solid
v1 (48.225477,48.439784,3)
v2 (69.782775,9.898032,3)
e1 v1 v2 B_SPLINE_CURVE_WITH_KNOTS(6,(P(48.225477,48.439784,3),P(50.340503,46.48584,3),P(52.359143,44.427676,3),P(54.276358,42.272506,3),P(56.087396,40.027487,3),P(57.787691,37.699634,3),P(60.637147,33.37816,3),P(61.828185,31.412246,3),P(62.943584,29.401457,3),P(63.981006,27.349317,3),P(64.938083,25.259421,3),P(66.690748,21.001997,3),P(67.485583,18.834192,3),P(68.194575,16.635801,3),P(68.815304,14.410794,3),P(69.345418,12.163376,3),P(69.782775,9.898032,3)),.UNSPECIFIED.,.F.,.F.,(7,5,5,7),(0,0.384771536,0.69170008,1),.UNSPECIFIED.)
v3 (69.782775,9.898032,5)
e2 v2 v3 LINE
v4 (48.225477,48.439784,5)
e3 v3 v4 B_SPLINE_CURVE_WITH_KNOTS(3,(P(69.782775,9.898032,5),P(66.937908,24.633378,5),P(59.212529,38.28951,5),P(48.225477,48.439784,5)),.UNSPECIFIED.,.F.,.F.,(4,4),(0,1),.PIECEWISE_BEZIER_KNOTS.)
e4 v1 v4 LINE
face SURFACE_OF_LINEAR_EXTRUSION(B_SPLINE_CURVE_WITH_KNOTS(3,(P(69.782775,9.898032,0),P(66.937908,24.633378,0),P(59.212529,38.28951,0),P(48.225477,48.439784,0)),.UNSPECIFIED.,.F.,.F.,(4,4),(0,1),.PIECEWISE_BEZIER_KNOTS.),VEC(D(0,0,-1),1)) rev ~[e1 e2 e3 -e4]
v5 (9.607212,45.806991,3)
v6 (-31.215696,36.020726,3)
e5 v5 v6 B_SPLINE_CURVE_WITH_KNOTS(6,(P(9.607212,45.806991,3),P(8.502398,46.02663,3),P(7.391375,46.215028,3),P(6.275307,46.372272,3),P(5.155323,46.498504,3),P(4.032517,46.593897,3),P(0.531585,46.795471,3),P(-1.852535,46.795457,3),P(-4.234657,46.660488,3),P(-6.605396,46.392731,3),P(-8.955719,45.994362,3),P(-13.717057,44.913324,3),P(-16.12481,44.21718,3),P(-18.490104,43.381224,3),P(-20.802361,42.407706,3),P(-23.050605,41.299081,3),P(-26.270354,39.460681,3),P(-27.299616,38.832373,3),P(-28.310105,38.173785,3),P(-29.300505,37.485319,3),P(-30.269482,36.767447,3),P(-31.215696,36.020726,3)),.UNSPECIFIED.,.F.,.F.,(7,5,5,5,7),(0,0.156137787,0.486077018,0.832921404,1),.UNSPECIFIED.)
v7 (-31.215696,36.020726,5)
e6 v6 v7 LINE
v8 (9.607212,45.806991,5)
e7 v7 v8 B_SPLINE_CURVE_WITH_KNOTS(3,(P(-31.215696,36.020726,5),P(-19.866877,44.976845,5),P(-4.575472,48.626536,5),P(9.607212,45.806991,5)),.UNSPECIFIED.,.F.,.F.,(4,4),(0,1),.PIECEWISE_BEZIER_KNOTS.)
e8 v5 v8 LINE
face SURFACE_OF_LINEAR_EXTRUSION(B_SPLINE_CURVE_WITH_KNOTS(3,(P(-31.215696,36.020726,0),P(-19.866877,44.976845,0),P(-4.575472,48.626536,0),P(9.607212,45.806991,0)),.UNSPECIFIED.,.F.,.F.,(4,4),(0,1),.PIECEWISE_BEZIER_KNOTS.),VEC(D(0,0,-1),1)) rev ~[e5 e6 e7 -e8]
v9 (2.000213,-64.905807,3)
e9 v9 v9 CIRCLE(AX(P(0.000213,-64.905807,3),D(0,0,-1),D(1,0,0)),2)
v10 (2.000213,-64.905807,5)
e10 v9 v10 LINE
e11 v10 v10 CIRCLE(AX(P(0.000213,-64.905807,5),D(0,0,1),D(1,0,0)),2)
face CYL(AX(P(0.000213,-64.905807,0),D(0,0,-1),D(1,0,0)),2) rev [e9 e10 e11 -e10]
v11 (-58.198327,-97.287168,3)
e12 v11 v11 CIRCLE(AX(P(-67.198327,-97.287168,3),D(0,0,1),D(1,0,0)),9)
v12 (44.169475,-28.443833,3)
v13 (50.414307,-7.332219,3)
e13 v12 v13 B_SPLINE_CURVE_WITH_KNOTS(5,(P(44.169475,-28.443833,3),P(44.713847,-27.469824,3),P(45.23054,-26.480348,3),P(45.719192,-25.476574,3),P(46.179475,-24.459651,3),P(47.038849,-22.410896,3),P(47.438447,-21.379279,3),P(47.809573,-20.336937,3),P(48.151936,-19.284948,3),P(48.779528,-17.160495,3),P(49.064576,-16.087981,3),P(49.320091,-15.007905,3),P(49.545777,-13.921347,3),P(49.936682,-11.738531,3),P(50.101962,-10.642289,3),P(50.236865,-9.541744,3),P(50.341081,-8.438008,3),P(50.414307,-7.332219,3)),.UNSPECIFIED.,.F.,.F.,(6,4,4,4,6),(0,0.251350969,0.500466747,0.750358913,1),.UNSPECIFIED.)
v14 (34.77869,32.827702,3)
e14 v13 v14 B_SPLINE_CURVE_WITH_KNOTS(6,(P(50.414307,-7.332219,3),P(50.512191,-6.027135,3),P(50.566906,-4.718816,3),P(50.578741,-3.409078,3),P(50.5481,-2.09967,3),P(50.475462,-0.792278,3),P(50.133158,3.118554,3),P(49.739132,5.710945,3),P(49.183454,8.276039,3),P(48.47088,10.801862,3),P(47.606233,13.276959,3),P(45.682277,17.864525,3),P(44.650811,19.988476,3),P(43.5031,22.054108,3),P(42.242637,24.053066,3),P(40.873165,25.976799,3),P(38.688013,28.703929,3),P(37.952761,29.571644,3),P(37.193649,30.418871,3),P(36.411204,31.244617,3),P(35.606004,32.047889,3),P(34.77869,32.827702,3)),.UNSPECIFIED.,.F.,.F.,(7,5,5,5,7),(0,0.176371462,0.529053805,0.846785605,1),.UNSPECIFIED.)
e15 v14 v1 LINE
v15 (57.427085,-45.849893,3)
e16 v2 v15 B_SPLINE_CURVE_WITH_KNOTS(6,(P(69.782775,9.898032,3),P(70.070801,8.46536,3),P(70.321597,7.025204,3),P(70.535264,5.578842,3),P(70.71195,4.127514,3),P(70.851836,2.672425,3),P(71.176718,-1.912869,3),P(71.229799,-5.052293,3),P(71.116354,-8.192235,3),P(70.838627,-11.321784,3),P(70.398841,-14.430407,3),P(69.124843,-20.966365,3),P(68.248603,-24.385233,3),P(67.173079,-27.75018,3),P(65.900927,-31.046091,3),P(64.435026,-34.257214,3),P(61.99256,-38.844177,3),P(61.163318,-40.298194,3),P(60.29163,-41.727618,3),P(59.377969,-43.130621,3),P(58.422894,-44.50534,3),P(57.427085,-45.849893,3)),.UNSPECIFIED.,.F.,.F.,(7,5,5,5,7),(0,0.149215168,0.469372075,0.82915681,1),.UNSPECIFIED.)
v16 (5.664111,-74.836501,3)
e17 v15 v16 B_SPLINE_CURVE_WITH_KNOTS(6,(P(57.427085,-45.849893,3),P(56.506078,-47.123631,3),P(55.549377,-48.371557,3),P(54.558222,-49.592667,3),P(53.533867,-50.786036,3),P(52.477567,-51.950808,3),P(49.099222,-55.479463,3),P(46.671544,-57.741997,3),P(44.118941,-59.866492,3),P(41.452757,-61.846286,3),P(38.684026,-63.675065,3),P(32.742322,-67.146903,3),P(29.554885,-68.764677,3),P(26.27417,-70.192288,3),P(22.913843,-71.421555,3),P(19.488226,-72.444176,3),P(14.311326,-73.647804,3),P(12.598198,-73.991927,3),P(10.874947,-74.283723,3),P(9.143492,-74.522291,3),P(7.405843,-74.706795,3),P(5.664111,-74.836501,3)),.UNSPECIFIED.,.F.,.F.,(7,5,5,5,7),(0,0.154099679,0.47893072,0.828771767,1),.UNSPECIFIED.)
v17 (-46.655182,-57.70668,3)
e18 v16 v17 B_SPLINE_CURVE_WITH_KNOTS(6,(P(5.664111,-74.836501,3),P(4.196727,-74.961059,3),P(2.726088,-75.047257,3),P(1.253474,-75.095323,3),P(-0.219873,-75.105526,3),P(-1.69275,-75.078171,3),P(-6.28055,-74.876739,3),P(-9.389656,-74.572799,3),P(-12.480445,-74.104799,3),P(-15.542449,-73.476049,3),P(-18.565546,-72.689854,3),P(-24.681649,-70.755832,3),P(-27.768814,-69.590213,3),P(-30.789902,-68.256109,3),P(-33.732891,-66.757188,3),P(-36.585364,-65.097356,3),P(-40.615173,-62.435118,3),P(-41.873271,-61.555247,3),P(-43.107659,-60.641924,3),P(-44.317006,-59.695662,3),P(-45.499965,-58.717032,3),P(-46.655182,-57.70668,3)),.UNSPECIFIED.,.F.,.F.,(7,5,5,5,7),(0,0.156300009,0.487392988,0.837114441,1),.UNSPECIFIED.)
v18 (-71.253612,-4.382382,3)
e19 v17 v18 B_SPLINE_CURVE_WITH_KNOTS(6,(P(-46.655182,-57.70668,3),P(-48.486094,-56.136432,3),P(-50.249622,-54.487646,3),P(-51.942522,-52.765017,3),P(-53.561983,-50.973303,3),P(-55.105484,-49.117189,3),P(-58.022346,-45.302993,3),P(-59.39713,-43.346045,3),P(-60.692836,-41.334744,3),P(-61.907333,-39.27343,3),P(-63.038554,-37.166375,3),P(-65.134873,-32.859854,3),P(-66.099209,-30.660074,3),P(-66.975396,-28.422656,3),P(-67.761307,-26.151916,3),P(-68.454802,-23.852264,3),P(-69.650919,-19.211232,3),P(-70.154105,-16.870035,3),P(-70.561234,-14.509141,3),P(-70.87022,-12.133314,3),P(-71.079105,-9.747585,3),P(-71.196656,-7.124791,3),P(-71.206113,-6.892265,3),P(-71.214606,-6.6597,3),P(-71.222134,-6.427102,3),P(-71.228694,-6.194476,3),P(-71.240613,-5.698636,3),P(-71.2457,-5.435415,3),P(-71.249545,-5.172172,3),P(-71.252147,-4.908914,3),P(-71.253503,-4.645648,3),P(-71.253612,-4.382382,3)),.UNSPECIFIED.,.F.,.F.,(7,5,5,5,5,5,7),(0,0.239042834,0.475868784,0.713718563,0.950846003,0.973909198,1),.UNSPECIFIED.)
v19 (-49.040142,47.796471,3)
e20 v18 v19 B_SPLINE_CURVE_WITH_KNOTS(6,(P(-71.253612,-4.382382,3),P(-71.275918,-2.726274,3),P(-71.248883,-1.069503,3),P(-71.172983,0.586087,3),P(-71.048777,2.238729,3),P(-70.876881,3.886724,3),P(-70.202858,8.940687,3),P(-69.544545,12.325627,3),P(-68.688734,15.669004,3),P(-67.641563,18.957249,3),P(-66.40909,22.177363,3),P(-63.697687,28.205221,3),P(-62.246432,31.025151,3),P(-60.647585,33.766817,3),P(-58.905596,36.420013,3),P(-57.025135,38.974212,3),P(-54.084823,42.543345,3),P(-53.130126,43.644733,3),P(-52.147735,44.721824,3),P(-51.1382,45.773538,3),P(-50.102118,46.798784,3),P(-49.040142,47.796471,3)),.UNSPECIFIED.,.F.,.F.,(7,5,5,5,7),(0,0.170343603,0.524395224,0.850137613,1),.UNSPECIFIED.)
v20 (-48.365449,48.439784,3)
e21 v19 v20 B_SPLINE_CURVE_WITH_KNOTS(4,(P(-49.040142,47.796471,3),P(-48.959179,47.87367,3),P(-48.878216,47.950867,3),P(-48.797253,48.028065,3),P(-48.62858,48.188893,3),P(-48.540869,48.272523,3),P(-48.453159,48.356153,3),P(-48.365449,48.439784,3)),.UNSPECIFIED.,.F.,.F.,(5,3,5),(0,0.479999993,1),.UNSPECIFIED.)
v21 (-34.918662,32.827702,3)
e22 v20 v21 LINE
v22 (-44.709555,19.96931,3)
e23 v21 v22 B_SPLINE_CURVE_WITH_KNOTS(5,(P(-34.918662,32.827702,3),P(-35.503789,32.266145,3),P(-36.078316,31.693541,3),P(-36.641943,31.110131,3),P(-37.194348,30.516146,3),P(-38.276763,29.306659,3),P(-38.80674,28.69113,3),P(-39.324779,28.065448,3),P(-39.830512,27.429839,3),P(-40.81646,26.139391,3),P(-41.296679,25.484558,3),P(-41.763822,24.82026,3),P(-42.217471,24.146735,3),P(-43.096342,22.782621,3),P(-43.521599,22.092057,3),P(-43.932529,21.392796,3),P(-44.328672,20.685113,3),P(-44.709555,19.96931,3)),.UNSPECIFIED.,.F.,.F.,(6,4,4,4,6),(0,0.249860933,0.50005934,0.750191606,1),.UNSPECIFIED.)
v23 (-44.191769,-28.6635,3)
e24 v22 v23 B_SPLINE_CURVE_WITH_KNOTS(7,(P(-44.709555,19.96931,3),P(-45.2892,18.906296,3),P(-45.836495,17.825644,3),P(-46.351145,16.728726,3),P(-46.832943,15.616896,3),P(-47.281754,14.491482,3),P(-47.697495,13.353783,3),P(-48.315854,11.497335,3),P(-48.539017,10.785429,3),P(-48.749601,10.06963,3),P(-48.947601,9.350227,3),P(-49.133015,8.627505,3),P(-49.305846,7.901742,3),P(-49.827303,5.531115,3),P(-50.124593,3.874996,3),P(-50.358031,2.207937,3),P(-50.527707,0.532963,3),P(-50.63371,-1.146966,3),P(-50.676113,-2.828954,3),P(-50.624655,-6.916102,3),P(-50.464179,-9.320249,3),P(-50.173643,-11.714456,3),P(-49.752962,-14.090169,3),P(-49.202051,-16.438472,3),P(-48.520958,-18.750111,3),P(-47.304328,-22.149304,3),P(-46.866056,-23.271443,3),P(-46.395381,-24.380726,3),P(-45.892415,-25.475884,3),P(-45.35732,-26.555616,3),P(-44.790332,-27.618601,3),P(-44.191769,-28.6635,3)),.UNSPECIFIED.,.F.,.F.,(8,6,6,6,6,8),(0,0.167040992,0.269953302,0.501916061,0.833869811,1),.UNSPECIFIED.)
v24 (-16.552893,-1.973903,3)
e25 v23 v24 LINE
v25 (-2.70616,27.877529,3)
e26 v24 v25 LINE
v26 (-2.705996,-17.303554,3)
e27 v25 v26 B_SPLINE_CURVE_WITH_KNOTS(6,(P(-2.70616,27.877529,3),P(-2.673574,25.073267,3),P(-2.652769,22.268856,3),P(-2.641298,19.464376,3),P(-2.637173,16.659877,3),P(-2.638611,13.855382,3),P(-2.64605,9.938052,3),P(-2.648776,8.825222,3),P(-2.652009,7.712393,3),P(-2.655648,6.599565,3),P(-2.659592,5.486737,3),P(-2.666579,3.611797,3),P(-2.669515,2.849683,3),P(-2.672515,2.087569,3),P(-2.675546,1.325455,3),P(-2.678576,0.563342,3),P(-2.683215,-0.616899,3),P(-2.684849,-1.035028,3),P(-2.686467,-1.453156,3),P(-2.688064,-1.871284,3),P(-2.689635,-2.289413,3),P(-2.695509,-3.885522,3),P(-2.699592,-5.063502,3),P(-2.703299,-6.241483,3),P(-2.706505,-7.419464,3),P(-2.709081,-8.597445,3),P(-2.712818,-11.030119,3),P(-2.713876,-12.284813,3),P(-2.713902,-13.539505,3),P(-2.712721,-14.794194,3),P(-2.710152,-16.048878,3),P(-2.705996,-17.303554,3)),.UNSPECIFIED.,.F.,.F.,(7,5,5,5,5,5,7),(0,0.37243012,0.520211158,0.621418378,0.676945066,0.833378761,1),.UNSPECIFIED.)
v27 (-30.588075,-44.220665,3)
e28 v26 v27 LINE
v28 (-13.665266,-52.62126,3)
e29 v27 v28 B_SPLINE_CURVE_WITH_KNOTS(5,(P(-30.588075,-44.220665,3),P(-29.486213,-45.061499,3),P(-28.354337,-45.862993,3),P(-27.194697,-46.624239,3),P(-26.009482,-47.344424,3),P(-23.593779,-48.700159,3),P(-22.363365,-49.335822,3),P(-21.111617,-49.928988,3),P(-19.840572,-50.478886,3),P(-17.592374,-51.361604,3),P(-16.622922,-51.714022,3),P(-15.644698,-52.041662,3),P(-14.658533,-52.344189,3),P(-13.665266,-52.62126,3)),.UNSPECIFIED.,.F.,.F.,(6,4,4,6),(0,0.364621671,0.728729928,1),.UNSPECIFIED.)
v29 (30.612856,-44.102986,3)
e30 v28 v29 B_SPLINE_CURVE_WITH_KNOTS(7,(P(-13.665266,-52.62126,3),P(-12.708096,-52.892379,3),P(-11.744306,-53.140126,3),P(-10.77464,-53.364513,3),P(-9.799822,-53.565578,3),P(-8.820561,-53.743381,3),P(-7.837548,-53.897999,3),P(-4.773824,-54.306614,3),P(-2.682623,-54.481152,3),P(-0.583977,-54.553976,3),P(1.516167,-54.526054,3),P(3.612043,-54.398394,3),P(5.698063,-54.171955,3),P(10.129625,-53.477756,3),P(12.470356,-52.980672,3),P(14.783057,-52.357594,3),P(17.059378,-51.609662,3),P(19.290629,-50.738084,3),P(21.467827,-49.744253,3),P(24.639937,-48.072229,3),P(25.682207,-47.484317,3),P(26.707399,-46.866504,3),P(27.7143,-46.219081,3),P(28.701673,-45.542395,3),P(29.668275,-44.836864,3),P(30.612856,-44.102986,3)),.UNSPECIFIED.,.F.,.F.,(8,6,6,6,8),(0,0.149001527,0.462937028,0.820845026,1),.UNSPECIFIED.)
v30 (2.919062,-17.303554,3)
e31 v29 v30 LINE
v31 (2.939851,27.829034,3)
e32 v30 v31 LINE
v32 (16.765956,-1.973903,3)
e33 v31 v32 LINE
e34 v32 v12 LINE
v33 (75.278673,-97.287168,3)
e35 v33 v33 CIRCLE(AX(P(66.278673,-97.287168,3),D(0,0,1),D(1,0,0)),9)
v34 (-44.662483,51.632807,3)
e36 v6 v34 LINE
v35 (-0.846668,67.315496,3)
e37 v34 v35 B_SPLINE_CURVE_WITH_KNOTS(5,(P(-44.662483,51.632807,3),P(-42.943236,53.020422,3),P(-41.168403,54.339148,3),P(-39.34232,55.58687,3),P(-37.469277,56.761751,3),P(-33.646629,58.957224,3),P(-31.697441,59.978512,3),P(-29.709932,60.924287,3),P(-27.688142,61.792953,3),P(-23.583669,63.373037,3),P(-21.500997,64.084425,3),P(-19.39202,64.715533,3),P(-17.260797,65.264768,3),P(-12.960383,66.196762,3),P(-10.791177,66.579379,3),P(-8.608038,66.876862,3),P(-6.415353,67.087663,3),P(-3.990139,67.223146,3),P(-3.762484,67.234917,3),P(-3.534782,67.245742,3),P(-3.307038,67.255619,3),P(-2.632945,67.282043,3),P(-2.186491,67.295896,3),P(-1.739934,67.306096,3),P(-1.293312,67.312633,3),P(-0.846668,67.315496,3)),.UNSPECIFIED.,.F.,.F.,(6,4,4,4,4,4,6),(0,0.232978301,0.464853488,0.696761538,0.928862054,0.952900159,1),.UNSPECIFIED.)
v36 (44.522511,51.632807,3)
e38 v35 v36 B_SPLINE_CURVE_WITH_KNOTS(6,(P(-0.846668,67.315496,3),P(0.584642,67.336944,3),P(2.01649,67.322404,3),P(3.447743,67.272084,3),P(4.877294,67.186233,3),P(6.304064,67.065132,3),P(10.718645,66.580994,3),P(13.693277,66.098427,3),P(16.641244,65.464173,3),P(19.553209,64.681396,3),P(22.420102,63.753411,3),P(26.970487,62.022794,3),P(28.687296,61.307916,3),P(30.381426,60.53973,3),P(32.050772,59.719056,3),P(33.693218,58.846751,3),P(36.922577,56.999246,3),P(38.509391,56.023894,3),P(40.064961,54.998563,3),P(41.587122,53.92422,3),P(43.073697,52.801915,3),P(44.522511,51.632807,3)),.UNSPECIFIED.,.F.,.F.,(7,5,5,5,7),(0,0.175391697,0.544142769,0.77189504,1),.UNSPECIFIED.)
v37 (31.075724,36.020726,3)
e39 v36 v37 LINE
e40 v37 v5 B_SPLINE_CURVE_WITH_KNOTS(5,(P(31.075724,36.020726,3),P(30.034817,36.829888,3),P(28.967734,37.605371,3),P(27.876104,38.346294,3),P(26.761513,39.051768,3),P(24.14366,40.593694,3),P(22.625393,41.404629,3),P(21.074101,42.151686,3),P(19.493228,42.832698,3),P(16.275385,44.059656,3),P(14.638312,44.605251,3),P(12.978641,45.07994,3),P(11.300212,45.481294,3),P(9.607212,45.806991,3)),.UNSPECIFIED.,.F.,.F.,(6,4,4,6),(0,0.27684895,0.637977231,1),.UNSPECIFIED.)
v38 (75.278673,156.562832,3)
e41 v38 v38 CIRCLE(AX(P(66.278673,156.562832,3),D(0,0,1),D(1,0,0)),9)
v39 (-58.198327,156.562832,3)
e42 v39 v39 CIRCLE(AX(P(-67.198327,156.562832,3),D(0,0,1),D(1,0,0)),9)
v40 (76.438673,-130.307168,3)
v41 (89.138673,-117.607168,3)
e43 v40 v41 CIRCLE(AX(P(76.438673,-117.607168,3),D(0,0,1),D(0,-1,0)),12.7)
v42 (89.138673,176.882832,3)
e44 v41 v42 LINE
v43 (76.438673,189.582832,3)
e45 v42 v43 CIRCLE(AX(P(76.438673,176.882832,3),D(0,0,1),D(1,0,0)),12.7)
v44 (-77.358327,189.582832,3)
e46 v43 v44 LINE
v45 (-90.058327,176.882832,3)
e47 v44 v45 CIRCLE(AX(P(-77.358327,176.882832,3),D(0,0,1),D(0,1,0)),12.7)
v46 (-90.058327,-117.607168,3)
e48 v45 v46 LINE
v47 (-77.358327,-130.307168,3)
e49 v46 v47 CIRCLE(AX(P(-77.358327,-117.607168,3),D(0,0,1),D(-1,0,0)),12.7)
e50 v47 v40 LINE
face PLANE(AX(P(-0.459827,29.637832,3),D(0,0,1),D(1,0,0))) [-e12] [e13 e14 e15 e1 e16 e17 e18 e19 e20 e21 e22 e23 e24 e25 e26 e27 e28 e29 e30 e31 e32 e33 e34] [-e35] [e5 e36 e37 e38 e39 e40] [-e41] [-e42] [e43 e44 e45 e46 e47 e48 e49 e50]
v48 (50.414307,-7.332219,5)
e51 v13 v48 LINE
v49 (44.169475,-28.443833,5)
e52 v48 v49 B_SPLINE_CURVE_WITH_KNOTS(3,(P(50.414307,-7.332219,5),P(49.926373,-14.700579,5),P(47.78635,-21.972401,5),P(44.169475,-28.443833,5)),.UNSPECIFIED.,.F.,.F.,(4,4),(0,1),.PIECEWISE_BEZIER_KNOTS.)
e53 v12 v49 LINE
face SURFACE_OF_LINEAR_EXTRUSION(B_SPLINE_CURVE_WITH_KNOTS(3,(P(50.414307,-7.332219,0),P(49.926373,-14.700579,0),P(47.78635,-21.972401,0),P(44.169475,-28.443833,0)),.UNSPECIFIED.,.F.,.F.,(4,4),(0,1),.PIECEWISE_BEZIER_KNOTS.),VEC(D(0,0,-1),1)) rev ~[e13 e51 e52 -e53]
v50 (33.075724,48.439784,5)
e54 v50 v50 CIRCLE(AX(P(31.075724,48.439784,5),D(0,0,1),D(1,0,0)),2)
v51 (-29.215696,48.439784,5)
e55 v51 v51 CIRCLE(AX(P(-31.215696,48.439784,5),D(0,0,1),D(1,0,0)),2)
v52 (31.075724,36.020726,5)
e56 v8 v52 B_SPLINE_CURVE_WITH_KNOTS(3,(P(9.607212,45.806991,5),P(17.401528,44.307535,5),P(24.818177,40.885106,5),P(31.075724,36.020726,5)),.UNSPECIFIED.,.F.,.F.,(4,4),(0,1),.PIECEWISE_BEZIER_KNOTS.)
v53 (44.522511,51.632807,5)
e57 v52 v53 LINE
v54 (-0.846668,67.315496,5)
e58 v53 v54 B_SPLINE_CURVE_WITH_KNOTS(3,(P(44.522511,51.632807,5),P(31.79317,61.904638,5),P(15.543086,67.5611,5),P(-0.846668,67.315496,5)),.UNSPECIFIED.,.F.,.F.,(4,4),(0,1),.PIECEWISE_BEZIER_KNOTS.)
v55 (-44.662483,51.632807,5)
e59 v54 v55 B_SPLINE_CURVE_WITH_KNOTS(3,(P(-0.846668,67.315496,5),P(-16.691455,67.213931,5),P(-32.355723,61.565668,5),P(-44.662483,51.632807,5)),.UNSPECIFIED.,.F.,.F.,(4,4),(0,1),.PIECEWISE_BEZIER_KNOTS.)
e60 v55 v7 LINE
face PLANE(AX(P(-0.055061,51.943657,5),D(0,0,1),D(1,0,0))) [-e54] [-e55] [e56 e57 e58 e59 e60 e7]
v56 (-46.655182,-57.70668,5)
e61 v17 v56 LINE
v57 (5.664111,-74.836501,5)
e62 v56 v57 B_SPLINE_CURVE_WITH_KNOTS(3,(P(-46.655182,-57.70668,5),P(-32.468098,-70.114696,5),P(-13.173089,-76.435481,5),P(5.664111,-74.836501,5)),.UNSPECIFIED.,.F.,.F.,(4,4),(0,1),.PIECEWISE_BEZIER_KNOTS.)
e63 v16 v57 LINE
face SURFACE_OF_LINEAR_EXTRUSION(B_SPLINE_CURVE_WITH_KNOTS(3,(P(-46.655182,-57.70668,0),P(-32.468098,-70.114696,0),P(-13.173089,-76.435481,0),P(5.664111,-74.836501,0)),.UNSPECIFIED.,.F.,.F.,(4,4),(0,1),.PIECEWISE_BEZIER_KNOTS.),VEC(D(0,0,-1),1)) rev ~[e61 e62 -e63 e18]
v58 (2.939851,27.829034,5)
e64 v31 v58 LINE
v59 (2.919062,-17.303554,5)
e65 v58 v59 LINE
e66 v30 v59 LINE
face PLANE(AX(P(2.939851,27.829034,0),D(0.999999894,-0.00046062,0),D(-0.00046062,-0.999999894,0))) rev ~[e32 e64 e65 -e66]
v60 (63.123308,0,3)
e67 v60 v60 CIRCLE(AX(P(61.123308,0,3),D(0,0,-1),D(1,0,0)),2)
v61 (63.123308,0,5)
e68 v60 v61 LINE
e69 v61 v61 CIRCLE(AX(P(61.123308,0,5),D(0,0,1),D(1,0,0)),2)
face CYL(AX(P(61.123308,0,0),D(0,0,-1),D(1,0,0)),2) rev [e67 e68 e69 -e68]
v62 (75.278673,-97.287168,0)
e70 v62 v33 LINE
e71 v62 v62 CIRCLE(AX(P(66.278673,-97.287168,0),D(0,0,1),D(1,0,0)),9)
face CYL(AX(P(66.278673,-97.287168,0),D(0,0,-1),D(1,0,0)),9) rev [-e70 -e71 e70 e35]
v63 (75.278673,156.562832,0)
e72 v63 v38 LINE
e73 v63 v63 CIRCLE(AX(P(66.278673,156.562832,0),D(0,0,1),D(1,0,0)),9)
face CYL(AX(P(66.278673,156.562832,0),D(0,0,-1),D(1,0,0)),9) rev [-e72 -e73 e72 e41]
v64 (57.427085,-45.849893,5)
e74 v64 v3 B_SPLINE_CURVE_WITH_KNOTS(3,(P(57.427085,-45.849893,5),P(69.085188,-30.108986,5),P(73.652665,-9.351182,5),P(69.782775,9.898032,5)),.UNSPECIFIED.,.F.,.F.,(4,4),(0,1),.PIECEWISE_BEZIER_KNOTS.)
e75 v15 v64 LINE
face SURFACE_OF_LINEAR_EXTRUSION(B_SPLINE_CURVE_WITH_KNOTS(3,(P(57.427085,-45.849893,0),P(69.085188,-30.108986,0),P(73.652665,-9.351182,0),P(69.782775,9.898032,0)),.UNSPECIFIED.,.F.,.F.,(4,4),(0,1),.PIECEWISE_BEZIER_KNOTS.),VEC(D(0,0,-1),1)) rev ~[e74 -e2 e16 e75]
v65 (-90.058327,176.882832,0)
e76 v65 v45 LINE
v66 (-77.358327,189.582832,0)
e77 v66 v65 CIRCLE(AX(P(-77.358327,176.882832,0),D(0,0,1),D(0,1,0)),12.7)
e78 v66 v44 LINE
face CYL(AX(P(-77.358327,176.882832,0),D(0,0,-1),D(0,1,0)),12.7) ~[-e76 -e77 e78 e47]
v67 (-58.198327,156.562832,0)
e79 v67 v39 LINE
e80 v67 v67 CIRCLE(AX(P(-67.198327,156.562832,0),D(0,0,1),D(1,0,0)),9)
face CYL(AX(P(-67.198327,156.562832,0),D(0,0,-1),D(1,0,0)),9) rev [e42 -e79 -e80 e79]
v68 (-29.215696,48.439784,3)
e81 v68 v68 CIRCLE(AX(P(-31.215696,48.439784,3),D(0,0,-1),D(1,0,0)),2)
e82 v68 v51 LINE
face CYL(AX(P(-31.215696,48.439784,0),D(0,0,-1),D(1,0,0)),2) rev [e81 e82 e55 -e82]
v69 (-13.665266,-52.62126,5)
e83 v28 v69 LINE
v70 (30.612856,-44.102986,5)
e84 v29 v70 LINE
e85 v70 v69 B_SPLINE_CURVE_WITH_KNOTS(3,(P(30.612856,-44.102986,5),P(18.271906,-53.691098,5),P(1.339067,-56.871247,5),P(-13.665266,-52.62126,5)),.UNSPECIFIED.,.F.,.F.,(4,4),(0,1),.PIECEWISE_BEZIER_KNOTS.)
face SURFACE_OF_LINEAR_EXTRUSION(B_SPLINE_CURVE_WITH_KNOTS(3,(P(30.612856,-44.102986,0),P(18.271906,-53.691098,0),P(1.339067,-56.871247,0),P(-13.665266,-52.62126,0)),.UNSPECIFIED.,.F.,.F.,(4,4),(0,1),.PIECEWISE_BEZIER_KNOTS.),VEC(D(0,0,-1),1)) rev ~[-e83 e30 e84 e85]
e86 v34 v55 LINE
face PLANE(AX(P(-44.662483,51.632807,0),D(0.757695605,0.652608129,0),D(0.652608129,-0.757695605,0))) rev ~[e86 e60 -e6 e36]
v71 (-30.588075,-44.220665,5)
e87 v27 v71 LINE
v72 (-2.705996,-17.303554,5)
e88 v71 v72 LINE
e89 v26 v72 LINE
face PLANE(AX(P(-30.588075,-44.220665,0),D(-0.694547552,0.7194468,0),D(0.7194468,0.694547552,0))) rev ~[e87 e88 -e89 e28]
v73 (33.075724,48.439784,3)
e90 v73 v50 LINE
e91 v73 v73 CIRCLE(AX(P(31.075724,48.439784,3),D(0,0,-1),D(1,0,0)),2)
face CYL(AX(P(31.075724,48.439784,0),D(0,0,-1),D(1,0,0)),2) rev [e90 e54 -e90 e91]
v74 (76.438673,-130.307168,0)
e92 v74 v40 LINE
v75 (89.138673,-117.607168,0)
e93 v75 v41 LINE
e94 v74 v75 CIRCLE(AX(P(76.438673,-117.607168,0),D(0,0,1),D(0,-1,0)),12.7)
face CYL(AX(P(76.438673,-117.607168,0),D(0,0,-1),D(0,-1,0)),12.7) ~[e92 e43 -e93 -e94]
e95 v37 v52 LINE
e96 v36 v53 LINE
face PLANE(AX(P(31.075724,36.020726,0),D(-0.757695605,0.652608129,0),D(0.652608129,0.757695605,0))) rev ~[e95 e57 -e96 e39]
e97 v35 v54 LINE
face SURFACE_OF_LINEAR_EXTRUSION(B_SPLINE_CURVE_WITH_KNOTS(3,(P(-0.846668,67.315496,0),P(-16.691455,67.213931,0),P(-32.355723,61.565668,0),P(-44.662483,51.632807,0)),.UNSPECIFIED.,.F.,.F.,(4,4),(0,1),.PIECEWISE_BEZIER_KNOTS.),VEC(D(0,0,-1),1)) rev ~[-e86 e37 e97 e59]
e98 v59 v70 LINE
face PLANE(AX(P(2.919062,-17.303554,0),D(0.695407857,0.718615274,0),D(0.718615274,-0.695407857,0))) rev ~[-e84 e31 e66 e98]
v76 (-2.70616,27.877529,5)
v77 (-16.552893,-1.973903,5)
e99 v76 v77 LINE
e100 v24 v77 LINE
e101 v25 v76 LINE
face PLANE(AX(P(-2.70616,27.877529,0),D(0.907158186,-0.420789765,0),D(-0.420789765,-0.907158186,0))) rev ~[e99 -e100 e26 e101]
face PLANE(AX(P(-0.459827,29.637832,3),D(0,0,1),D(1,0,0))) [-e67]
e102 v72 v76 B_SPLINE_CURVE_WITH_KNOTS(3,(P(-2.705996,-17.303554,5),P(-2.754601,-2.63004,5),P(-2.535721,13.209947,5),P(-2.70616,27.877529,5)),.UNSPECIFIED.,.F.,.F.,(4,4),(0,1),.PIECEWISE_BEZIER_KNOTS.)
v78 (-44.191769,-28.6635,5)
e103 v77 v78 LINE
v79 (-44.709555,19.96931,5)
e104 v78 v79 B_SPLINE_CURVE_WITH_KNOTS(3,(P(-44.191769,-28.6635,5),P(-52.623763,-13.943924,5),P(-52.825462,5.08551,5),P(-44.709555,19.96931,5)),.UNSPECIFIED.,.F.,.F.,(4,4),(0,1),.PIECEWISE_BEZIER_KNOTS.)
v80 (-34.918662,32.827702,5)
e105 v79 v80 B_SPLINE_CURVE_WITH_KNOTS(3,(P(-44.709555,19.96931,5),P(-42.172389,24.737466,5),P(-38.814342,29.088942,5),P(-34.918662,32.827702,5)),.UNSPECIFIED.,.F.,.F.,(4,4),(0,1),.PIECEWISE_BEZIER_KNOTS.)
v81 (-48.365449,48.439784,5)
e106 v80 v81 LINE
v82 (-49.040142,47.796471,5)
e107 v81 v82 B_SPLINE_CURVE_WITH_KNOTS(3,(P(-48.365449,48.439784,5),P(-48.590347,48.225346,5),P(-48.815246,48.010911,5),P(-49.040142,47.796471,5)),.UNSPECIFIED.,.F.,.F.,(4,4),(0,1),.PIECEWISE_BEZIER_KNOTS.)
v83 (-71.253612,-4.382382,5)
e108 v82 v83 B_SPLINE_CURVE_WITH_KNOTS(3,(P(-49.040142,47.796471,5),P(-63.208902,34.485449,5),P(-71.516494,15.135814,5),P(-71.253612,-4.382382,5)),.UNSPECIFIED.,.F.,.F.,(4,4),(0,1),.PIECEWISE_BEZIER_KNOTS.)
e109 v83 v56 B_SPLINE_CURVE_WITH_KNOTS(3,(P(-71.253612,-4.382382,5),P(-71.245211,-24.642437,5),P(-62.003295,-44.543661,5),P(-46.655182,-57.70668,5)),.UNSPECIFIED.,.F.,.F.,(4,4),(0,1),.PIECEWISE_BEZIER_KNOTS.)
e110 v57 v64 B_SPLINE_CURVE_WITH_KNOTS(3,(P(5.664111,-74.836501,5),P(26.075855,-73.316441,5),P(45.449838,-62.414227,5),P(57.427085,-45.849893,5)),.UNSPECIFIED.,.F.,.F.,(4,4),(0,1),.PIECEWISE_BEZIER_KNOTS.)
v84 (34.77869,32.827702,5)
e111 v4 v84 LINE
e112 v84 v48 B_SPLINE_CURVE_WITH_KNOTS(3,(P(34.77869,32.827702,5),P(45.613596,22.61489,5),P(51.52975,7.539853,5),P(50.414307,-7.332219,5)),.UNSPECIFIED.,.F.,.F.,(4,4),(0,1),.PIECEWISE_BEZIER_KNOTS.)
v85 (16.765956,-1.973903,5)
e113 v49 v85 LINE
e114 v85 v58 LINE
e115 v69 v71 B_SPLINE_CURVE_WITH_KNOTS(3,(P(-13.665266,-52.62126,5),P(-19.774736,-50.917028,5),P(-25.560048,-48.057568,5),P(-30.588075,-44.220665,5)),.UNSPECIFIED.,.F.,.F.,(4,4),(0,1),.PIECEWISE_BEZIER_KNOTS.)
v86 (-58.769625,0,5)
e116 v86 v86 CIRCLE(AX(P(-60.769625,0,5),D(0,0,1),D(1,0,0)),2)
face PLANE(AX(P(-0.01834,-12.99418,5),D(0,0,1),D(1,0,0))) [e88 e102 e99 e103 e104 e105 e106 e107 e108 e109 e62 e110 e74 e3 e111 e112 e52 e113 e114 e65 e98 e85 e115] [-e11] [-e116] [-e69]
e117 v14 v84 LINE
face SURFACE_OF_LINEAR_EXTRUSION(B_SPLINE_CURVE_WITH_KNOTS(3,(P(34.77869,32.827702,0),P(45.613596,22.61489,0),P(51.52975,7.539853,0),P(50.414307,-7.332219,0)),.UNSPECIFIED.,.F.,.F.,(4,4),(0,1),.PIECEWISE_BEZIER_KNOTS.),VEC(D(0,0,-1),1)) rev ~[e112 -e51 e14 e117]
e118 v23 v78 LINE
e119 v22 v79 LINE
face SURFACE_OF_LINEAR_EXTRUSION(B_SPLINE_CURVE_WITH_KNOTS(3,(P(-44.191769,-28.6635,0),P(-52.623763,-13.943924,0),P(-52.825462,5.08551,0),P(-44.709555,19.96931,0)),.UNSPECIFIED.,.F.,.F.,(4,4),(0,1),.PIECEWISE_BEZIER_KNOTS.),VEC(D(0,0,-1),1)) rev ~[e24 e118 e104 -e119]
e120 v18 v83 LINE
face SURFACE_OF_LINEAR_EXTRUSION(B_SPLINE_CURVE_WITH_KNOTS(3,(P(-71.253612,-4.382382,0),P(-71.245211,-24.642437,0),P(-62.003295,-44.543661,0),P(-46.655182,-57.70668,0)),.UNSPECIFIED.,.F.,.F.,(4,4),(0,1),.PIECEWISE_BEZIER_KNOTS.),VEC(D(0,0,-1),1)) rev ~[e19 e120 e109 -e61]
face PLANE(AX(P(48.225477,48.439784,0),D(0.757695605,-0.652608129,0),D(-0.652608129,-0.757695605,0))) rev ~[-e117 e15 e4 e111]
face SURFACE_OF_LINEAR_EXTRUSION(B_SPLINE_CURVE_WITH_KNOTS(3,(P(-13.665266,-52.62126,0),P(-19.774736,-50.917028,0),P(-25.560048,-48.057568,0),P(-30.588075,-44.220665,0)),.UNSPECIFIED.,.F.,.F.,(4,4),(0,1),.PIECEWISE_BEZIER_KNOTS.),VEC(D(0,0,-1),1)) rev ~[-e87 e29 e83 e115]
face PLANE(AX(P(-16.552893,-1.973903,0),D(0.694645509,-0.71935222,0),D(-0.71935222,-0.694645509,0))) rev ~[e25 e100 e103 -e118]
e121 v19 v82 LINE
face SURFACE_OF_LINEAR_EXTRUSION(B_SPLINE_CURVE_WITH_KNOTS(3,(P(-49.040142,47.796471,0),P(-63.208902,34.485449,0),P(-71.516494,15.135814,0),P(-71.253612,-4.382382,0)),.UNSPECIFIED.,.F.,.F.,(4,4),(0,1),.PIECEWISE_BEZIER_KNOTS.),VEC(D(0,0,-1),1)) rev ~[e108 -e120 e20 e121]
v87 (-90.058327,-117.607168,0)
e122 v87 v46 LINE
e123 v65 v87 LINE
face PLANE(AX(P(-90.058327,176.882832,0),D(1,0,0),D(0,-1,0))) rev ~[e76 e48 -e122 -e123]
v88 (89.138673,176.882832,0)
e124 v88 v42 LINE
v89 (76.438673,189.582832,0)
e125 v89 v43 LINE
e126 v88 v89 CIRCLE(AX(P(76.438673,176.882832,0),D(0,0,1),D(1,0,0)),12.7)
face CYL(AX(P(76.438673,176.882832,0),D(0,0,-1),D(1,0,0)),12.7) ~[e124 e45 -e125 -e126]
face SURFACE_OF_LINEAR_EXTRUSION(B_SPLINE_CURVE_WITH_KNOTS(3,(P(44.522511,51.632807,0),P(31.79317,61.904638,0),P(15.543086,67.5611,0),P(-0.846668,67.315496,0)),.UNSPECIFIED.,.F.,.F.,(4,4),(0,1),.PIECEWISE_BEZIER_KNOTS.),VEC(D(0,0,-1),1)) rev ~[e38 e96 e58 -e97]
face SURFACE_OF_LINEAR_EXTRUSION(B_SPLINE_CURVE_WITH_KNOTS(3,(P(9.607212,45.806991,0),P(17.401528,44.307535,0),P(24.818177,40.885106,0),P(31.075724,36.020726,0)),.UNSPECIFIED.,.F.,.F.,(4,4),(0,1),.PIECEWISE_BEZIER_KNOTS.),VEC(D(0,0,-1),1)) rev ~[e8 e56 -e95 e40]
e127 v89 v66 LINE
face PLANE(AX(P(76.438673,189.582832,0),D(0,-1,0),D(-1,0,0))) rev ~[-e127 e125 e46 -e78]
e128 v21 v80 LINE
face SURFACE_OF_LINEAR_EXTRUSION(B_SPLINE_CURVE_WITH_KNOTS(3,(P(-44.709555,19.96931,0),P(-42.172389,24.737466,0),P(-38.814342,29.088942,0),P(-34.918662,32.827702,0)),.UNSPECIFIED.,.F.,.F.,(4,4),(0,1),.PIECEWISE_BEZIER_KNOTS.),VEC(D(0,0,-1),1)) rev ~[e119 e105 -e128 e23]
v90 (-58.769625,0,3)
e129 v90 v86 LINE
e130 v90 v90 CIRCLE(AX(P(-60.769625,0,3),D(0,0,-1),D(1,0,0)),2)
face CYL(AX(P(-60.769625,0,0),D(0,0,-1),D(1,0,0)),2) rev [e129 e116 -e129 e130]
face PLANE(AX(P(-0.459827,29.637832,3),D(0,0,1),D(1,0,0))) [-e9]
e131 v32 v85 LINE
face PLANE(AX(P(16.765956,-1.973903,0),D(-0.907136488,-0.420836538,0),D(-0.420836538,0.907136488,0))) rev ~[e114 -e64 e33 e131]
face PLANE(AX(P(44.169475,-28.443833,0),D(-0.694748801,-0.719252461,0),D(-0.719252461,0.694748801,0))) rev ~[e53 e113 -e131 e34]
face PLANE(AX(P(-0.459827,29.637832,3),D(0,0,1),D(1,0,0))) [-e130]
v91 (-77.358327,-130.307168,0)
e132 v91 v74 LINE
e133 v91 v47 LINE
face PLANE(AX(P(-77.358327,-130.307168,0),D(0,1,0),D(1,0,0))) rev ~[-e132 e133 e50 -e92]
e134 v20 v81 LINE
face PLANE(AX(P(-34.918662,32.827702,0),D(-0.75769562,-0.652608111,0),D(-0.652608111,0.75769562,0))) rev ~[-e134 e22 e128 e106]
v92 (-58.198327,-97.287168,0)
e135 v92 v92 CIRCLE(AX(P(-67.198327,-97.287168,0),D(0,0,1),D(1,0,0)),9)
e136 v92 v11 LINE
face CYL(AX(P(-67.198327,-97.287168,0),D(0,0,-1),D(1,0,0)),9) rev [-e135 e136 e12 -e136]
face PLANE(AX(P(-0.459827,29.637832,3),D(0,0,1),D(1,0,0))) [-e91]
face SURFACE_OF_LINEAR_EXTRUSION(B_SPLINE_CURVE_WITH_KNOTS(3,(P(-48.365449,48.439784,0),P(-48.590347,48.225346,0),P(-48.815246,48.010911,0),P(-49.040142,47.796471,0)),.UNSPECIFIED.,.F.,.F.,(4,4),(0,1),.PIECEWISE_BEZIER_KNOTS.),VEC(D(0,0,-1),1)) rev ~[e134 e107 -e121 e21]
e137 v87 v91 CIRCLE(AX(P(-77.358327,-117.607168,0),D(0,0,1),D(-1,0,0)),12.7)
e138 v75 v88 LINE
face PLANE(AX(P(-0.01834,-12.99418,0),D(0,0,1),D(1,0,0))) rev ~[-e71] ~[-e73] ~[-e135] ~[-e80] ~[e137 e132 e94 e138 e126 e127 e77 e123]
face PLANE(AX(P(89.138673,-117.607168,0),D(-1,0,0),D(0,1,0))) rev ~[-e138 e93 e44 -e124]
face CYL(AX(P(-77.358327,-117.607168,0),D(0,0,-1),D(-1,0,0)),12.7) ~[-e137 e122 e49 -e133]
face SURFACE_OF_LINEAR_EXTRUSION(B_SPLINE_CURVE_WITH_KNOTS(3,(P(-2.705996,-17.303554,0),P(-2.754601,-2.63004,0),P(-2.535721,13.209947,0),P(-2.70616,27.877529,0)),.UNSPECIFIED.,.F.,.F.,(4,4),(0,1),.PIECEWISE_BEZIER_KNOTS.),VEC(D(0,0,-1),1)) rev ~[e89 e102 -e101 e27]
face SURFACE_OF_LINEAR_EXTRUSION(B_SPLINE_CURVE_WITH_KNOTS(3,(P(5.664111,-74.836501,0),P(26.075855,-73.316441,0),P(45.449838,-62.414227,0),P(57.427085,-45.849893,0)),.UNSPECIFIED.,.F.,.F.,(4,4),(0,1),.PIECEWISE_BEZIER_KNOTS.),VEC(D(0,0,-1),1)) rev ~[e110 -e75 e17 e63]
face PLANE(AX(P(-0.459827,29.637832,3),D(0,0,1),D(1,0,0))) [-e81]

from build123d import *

# Parameters (mm, degrees)
F1_R     = 9
F2_DEPTH = 3
F0_R     = 2
F3_DEPTH = 5
F4_DEPTH = 5


with BuildPart() as f2:
    # F1 (on Top) → F2 (new body)
    with BuildSketch(Plane.XY):
        with BuildLine():
            ThreePointArc((76.4386732788, -130.3071677685), (85.4189293999, -126.5874238895), (89.1386732788, -117.6071677685))
            Line((89.1386732788, -117.6071677685), (89.1386732788, 176.8828322315))
            ThreePointArc((89.1386732788, 176.8828322315), (85.4189293999, 185.8630883526), (76.4386732788, 189.5828322315))
            Line((76.4386732788, 189.5828322315), (-77.3583267212, 189.5828322315))
            ThreePointArc((-77.3583267212, 189.5828322315), (-86.3385828423, 185.8630883526), (-90.0583267212, 176.8828322315))
            Line((-90.0583267212, 176.8828322315), (-90.0583267212, -117.6071677685))
            ThreePointArc((-90.0583267212, -117.6071677685), (-86.3385828423, -126.5874238895), (-77.3583267212, -130.3071677685))
            Line((-77.3583267212, -130.3071677685), (76.4386732788, -130.3071677685))
        make_face()
        with Locations((-67.1983267212, -97.2871677685)):
            Circle(F1_R, mode=Mode.SUBTRACT)
        with Locations((66.2786732788, -97.2871677685)):
            Circle(F1_R, mode=Mode.SUBTRACT)
        with Locations((-67.1983267212, 156.5628322315)):
            Circle(F1_R, mode=Mode.SUBTRACT)
        with Locations((66.2786732788, 156.5628322315)):
            Circle(F1_R, mode=Mode.SUBTRACT)
    extrude(amount=F2_DEPTH)

    # F0 (on Top) → F3 (join)
    with BuildSketch(Plane.XY):
        with BuildLine():
            add(Edge.make_bspline(
                [(44.5225109401, 51.6328074749), (31.7931699117, 61.9046377655), (15.5430863667, 67.5611001635), (-0.8466675809, 67.3154957518)],
                knots=[0, 0, 0, 0, 1, 1, 1, 1], degree=3))
            add(Edge.make_bspline(
                [(-0.8466675809, 67.3154957518), (-16.6914552758, 67.2139309121), (-32.3557233009, 61.5656679848), (-44.6624829203, 51.6328074749)],
                knots=[0, 0, 0, 0, 1, 1, 1, 1], degree=3))
            Line((-44.6624829203, 51.6328074749), (-31.2156959628, 36.0207258387))
            add(Edge.make_bspline(
                [(-31.2156959628, 36.0207258387), (-19.8668770846, 44.9768453315), (-4.5754724959, 48.626535939), (9.607211652, 45.8069907111)],
                knots=[0, 0, 0, 0, 1, 1, 1, 1], degree=3))
            add(Edge.make_bspline(
                [(9.607211652, 45.8069907111), (17.4015278884, 44.3075346269), (24.8181773865, 40.8851063357), (31.0757239826, 36.0207258387)],
                knots=[0, 0, 0, 0, 1, 1, 1, 1], degree=3))
            Line((31.0757239826, 36.0207258387), (44.5225109401, 51.6328074749))
        make_face()
        with Locations((-31.2156959628, 48.4397840007)):
            Circle(F0_R, mode=Mode.SUBTRACT)
        with Locations((31.0757239826, 48.4397840007)):
            Circle(F0_R, mode=Mode.SUBTRACT)
    extrude(amount=F3_DEPTH)

    # F0 (on Top) → F4 (join)
    with BuildSketch(Plane.XY):
        with BuildLine():
            add(Edge.make_bspline(
                [(-48.3654487285, 48.4397840007), (-48.5903470483, 48.2253463108), (-48.8152456845, 48.0109111522), (-49.0401417893, 47.7964712472)],
                knots=[0, 0, 0, 0, 1, 1, 1, 1], degree=3))
            add(Edge.make_bspline(
                [(-49.0401417893, 47.7964712472), (-63.2089023734, 34.4854490825), (-71.5164935114, 15.1358143832), (-71.2536124009, -4.3823817258)],
                knots=[0, 0, 0, 0, 1, 1, 1, 1], degree=3))
            add(Edge.make_bspline(
                [(-71.2536124009, -4.3823817258), (-71.2452113687, -24.6424367519), (-62.0032950914, -44.5436607549), (-46.6551817954, -57.7066801488)],
                knots=[0, 0, 0, 0, 1, 1, 1, 1], degree=3))
            add(Edge.make_bspline(
                [(-46.6551817954, -57.7066801488), (-32.4680977849, -70.1146960954), (-13.1730887798, -76.4354807885), (5.6641111211, -74.8365011098)],
                knots=[0, 0, 0, 0, 1, 1, 1, 1], degree=3))
            add(Edge.make_bspline(
                [(5.6641111211, -74.8365011098), (26.0758546138, -73.3164411383), (45.4498377508, -62.4142271403), (57.4270848419, -45.8498931001)],
                knots=[0, 0, 0, 0, 1, 1, 1, 1], degree=3))
            add(Edge.make_bspline(
                [(57.4270848419, -45.8498931001), (69.0851876389, -30.1089858288), (73.6526652184, -9.3511818312), (69.782774857, 9.8980318978)],
                knots=[0, 0, 0, 0, 1, 1, 1, 1], degree=3))
            add(Edge.make_bspline(
                [(69.782774857, 9.8980318978), (66.9379075577, 24.63337834), (59.2125294632, 38.289509842), (48.2254770647, 48.4397840007)],
                knots=[0, 0, 0, 0, 1, 1, 1, 1], degree=3))
            Line((48.2254770647, 48.4397840007), (34.7786901072, 32.8277023646))
            add(Edge.make_bspline(
                [(34.7786901072, 32.8277023646), (45.6135961749, 22.6148903531), (51.529750139, 7.5398526857), (50.4143066574, -7.3322188933)],
                knots=[0, 0, 0, 0, 1, 1, 1, 1], degree=3))
            add(Edge.make_bspline(
                [(50.4143066574, -7.3322188933), (49.9263728127, -14.7005793852), (47.7863498942, -21.9724011014), (44.1694752054, -28.4438325965)],
                knots=[0, 0, 0, 0, 1, 1, 1, 1], degree=3))
            Line((44.1694752054, -28.4438325965), (16.765956425, -1.9739032718))
            Line((16.765956425, -1.9739032718), (2.9398510008, 27.8290335048))
            Line((2.9398510008, 27.8290335048), (2.919062006, -17.3035535989))
            Line((2.919062006, -17.3035535989), (30.6128555902, -44.1029862757))
            add(Edge.make_bspline(
                [(30.6128555902, -44.1029862757), (18.2719055103, -53.691098487), (1.3390673943, -56.8712473399), (-13.6652661742, -52.6212601112)],
                knots=[0, 0, 0, 0, 1, 1, 1, 1], degree=3))
            add(Edge.make_bspline(
                [(-13.6652661742, -52.6212601112), (-19.7747362729, -50.9170276822), (-25.5600477213, -48.0575679008), (-30.5880749451, -44.220664643)],
                knots=[0, 0, 0, 0, 1, 1, 1, 1], degree=3))
            Line((-30.5880749451, -44.220664643), (-2.7059963529, -17.3035535989))
            add(Edge.make_bspline(
                [(-2.7059963529, -17.3035535989), (-2.7546011493, -2.6300403353), (-2.535721196, 13.2099469053), (-2.7061599436, 27.8775294516)],
                knots=[0, 0, 0, 0, 1, 1, 1, 1], degree=3))
            Line((-2.7061599436, 27.8775294516), (-16.5528929868, -1.9739029554))
            Line((-16.5528929868, -1.9739029554), (-44.1917691347, -28.6635004431))
            add(Edge.make_bspline(
                [(-44.1917691347, -28.6635004431), (-52.6237632628, -13.9439238932), (-52.8254617605, 5.0855102919), (-44.7095549634, 19.9693104078)],
                knots=[0, 0, 0, 0, 1, 1, 1, 1], degree=3))
            add(Edge.make_bspline(
                [(-44.7095549634, 19.9693104078), (-42.1723888347, 24.7374657043), (-38.8143418771, 29.0889415146), (-34.9186624038, 32.8277023646)],
                knots=[0, 0, 0, 0, 1, 1, 1, 1], degree=3))
            Line((-34.9186624038, 32.8277023646), (-48.3654487285, 48.4397840007))
        make_face()
        with Locations((0.0002132058, -64.9058073759)):
            Circle(F0_R, mode=Mode.SUBTRACT)
        with Locations((-60.7696250081, 0)):
            Circle(F0_R, mode=Mode.SUBTRACT)
        with Locations((61.1233077943, 0)):
            Circle(F0_R, mode=Mode.SUBTRACT)
    extrude(amount=F4_DEPTH)


solid = f2.part
